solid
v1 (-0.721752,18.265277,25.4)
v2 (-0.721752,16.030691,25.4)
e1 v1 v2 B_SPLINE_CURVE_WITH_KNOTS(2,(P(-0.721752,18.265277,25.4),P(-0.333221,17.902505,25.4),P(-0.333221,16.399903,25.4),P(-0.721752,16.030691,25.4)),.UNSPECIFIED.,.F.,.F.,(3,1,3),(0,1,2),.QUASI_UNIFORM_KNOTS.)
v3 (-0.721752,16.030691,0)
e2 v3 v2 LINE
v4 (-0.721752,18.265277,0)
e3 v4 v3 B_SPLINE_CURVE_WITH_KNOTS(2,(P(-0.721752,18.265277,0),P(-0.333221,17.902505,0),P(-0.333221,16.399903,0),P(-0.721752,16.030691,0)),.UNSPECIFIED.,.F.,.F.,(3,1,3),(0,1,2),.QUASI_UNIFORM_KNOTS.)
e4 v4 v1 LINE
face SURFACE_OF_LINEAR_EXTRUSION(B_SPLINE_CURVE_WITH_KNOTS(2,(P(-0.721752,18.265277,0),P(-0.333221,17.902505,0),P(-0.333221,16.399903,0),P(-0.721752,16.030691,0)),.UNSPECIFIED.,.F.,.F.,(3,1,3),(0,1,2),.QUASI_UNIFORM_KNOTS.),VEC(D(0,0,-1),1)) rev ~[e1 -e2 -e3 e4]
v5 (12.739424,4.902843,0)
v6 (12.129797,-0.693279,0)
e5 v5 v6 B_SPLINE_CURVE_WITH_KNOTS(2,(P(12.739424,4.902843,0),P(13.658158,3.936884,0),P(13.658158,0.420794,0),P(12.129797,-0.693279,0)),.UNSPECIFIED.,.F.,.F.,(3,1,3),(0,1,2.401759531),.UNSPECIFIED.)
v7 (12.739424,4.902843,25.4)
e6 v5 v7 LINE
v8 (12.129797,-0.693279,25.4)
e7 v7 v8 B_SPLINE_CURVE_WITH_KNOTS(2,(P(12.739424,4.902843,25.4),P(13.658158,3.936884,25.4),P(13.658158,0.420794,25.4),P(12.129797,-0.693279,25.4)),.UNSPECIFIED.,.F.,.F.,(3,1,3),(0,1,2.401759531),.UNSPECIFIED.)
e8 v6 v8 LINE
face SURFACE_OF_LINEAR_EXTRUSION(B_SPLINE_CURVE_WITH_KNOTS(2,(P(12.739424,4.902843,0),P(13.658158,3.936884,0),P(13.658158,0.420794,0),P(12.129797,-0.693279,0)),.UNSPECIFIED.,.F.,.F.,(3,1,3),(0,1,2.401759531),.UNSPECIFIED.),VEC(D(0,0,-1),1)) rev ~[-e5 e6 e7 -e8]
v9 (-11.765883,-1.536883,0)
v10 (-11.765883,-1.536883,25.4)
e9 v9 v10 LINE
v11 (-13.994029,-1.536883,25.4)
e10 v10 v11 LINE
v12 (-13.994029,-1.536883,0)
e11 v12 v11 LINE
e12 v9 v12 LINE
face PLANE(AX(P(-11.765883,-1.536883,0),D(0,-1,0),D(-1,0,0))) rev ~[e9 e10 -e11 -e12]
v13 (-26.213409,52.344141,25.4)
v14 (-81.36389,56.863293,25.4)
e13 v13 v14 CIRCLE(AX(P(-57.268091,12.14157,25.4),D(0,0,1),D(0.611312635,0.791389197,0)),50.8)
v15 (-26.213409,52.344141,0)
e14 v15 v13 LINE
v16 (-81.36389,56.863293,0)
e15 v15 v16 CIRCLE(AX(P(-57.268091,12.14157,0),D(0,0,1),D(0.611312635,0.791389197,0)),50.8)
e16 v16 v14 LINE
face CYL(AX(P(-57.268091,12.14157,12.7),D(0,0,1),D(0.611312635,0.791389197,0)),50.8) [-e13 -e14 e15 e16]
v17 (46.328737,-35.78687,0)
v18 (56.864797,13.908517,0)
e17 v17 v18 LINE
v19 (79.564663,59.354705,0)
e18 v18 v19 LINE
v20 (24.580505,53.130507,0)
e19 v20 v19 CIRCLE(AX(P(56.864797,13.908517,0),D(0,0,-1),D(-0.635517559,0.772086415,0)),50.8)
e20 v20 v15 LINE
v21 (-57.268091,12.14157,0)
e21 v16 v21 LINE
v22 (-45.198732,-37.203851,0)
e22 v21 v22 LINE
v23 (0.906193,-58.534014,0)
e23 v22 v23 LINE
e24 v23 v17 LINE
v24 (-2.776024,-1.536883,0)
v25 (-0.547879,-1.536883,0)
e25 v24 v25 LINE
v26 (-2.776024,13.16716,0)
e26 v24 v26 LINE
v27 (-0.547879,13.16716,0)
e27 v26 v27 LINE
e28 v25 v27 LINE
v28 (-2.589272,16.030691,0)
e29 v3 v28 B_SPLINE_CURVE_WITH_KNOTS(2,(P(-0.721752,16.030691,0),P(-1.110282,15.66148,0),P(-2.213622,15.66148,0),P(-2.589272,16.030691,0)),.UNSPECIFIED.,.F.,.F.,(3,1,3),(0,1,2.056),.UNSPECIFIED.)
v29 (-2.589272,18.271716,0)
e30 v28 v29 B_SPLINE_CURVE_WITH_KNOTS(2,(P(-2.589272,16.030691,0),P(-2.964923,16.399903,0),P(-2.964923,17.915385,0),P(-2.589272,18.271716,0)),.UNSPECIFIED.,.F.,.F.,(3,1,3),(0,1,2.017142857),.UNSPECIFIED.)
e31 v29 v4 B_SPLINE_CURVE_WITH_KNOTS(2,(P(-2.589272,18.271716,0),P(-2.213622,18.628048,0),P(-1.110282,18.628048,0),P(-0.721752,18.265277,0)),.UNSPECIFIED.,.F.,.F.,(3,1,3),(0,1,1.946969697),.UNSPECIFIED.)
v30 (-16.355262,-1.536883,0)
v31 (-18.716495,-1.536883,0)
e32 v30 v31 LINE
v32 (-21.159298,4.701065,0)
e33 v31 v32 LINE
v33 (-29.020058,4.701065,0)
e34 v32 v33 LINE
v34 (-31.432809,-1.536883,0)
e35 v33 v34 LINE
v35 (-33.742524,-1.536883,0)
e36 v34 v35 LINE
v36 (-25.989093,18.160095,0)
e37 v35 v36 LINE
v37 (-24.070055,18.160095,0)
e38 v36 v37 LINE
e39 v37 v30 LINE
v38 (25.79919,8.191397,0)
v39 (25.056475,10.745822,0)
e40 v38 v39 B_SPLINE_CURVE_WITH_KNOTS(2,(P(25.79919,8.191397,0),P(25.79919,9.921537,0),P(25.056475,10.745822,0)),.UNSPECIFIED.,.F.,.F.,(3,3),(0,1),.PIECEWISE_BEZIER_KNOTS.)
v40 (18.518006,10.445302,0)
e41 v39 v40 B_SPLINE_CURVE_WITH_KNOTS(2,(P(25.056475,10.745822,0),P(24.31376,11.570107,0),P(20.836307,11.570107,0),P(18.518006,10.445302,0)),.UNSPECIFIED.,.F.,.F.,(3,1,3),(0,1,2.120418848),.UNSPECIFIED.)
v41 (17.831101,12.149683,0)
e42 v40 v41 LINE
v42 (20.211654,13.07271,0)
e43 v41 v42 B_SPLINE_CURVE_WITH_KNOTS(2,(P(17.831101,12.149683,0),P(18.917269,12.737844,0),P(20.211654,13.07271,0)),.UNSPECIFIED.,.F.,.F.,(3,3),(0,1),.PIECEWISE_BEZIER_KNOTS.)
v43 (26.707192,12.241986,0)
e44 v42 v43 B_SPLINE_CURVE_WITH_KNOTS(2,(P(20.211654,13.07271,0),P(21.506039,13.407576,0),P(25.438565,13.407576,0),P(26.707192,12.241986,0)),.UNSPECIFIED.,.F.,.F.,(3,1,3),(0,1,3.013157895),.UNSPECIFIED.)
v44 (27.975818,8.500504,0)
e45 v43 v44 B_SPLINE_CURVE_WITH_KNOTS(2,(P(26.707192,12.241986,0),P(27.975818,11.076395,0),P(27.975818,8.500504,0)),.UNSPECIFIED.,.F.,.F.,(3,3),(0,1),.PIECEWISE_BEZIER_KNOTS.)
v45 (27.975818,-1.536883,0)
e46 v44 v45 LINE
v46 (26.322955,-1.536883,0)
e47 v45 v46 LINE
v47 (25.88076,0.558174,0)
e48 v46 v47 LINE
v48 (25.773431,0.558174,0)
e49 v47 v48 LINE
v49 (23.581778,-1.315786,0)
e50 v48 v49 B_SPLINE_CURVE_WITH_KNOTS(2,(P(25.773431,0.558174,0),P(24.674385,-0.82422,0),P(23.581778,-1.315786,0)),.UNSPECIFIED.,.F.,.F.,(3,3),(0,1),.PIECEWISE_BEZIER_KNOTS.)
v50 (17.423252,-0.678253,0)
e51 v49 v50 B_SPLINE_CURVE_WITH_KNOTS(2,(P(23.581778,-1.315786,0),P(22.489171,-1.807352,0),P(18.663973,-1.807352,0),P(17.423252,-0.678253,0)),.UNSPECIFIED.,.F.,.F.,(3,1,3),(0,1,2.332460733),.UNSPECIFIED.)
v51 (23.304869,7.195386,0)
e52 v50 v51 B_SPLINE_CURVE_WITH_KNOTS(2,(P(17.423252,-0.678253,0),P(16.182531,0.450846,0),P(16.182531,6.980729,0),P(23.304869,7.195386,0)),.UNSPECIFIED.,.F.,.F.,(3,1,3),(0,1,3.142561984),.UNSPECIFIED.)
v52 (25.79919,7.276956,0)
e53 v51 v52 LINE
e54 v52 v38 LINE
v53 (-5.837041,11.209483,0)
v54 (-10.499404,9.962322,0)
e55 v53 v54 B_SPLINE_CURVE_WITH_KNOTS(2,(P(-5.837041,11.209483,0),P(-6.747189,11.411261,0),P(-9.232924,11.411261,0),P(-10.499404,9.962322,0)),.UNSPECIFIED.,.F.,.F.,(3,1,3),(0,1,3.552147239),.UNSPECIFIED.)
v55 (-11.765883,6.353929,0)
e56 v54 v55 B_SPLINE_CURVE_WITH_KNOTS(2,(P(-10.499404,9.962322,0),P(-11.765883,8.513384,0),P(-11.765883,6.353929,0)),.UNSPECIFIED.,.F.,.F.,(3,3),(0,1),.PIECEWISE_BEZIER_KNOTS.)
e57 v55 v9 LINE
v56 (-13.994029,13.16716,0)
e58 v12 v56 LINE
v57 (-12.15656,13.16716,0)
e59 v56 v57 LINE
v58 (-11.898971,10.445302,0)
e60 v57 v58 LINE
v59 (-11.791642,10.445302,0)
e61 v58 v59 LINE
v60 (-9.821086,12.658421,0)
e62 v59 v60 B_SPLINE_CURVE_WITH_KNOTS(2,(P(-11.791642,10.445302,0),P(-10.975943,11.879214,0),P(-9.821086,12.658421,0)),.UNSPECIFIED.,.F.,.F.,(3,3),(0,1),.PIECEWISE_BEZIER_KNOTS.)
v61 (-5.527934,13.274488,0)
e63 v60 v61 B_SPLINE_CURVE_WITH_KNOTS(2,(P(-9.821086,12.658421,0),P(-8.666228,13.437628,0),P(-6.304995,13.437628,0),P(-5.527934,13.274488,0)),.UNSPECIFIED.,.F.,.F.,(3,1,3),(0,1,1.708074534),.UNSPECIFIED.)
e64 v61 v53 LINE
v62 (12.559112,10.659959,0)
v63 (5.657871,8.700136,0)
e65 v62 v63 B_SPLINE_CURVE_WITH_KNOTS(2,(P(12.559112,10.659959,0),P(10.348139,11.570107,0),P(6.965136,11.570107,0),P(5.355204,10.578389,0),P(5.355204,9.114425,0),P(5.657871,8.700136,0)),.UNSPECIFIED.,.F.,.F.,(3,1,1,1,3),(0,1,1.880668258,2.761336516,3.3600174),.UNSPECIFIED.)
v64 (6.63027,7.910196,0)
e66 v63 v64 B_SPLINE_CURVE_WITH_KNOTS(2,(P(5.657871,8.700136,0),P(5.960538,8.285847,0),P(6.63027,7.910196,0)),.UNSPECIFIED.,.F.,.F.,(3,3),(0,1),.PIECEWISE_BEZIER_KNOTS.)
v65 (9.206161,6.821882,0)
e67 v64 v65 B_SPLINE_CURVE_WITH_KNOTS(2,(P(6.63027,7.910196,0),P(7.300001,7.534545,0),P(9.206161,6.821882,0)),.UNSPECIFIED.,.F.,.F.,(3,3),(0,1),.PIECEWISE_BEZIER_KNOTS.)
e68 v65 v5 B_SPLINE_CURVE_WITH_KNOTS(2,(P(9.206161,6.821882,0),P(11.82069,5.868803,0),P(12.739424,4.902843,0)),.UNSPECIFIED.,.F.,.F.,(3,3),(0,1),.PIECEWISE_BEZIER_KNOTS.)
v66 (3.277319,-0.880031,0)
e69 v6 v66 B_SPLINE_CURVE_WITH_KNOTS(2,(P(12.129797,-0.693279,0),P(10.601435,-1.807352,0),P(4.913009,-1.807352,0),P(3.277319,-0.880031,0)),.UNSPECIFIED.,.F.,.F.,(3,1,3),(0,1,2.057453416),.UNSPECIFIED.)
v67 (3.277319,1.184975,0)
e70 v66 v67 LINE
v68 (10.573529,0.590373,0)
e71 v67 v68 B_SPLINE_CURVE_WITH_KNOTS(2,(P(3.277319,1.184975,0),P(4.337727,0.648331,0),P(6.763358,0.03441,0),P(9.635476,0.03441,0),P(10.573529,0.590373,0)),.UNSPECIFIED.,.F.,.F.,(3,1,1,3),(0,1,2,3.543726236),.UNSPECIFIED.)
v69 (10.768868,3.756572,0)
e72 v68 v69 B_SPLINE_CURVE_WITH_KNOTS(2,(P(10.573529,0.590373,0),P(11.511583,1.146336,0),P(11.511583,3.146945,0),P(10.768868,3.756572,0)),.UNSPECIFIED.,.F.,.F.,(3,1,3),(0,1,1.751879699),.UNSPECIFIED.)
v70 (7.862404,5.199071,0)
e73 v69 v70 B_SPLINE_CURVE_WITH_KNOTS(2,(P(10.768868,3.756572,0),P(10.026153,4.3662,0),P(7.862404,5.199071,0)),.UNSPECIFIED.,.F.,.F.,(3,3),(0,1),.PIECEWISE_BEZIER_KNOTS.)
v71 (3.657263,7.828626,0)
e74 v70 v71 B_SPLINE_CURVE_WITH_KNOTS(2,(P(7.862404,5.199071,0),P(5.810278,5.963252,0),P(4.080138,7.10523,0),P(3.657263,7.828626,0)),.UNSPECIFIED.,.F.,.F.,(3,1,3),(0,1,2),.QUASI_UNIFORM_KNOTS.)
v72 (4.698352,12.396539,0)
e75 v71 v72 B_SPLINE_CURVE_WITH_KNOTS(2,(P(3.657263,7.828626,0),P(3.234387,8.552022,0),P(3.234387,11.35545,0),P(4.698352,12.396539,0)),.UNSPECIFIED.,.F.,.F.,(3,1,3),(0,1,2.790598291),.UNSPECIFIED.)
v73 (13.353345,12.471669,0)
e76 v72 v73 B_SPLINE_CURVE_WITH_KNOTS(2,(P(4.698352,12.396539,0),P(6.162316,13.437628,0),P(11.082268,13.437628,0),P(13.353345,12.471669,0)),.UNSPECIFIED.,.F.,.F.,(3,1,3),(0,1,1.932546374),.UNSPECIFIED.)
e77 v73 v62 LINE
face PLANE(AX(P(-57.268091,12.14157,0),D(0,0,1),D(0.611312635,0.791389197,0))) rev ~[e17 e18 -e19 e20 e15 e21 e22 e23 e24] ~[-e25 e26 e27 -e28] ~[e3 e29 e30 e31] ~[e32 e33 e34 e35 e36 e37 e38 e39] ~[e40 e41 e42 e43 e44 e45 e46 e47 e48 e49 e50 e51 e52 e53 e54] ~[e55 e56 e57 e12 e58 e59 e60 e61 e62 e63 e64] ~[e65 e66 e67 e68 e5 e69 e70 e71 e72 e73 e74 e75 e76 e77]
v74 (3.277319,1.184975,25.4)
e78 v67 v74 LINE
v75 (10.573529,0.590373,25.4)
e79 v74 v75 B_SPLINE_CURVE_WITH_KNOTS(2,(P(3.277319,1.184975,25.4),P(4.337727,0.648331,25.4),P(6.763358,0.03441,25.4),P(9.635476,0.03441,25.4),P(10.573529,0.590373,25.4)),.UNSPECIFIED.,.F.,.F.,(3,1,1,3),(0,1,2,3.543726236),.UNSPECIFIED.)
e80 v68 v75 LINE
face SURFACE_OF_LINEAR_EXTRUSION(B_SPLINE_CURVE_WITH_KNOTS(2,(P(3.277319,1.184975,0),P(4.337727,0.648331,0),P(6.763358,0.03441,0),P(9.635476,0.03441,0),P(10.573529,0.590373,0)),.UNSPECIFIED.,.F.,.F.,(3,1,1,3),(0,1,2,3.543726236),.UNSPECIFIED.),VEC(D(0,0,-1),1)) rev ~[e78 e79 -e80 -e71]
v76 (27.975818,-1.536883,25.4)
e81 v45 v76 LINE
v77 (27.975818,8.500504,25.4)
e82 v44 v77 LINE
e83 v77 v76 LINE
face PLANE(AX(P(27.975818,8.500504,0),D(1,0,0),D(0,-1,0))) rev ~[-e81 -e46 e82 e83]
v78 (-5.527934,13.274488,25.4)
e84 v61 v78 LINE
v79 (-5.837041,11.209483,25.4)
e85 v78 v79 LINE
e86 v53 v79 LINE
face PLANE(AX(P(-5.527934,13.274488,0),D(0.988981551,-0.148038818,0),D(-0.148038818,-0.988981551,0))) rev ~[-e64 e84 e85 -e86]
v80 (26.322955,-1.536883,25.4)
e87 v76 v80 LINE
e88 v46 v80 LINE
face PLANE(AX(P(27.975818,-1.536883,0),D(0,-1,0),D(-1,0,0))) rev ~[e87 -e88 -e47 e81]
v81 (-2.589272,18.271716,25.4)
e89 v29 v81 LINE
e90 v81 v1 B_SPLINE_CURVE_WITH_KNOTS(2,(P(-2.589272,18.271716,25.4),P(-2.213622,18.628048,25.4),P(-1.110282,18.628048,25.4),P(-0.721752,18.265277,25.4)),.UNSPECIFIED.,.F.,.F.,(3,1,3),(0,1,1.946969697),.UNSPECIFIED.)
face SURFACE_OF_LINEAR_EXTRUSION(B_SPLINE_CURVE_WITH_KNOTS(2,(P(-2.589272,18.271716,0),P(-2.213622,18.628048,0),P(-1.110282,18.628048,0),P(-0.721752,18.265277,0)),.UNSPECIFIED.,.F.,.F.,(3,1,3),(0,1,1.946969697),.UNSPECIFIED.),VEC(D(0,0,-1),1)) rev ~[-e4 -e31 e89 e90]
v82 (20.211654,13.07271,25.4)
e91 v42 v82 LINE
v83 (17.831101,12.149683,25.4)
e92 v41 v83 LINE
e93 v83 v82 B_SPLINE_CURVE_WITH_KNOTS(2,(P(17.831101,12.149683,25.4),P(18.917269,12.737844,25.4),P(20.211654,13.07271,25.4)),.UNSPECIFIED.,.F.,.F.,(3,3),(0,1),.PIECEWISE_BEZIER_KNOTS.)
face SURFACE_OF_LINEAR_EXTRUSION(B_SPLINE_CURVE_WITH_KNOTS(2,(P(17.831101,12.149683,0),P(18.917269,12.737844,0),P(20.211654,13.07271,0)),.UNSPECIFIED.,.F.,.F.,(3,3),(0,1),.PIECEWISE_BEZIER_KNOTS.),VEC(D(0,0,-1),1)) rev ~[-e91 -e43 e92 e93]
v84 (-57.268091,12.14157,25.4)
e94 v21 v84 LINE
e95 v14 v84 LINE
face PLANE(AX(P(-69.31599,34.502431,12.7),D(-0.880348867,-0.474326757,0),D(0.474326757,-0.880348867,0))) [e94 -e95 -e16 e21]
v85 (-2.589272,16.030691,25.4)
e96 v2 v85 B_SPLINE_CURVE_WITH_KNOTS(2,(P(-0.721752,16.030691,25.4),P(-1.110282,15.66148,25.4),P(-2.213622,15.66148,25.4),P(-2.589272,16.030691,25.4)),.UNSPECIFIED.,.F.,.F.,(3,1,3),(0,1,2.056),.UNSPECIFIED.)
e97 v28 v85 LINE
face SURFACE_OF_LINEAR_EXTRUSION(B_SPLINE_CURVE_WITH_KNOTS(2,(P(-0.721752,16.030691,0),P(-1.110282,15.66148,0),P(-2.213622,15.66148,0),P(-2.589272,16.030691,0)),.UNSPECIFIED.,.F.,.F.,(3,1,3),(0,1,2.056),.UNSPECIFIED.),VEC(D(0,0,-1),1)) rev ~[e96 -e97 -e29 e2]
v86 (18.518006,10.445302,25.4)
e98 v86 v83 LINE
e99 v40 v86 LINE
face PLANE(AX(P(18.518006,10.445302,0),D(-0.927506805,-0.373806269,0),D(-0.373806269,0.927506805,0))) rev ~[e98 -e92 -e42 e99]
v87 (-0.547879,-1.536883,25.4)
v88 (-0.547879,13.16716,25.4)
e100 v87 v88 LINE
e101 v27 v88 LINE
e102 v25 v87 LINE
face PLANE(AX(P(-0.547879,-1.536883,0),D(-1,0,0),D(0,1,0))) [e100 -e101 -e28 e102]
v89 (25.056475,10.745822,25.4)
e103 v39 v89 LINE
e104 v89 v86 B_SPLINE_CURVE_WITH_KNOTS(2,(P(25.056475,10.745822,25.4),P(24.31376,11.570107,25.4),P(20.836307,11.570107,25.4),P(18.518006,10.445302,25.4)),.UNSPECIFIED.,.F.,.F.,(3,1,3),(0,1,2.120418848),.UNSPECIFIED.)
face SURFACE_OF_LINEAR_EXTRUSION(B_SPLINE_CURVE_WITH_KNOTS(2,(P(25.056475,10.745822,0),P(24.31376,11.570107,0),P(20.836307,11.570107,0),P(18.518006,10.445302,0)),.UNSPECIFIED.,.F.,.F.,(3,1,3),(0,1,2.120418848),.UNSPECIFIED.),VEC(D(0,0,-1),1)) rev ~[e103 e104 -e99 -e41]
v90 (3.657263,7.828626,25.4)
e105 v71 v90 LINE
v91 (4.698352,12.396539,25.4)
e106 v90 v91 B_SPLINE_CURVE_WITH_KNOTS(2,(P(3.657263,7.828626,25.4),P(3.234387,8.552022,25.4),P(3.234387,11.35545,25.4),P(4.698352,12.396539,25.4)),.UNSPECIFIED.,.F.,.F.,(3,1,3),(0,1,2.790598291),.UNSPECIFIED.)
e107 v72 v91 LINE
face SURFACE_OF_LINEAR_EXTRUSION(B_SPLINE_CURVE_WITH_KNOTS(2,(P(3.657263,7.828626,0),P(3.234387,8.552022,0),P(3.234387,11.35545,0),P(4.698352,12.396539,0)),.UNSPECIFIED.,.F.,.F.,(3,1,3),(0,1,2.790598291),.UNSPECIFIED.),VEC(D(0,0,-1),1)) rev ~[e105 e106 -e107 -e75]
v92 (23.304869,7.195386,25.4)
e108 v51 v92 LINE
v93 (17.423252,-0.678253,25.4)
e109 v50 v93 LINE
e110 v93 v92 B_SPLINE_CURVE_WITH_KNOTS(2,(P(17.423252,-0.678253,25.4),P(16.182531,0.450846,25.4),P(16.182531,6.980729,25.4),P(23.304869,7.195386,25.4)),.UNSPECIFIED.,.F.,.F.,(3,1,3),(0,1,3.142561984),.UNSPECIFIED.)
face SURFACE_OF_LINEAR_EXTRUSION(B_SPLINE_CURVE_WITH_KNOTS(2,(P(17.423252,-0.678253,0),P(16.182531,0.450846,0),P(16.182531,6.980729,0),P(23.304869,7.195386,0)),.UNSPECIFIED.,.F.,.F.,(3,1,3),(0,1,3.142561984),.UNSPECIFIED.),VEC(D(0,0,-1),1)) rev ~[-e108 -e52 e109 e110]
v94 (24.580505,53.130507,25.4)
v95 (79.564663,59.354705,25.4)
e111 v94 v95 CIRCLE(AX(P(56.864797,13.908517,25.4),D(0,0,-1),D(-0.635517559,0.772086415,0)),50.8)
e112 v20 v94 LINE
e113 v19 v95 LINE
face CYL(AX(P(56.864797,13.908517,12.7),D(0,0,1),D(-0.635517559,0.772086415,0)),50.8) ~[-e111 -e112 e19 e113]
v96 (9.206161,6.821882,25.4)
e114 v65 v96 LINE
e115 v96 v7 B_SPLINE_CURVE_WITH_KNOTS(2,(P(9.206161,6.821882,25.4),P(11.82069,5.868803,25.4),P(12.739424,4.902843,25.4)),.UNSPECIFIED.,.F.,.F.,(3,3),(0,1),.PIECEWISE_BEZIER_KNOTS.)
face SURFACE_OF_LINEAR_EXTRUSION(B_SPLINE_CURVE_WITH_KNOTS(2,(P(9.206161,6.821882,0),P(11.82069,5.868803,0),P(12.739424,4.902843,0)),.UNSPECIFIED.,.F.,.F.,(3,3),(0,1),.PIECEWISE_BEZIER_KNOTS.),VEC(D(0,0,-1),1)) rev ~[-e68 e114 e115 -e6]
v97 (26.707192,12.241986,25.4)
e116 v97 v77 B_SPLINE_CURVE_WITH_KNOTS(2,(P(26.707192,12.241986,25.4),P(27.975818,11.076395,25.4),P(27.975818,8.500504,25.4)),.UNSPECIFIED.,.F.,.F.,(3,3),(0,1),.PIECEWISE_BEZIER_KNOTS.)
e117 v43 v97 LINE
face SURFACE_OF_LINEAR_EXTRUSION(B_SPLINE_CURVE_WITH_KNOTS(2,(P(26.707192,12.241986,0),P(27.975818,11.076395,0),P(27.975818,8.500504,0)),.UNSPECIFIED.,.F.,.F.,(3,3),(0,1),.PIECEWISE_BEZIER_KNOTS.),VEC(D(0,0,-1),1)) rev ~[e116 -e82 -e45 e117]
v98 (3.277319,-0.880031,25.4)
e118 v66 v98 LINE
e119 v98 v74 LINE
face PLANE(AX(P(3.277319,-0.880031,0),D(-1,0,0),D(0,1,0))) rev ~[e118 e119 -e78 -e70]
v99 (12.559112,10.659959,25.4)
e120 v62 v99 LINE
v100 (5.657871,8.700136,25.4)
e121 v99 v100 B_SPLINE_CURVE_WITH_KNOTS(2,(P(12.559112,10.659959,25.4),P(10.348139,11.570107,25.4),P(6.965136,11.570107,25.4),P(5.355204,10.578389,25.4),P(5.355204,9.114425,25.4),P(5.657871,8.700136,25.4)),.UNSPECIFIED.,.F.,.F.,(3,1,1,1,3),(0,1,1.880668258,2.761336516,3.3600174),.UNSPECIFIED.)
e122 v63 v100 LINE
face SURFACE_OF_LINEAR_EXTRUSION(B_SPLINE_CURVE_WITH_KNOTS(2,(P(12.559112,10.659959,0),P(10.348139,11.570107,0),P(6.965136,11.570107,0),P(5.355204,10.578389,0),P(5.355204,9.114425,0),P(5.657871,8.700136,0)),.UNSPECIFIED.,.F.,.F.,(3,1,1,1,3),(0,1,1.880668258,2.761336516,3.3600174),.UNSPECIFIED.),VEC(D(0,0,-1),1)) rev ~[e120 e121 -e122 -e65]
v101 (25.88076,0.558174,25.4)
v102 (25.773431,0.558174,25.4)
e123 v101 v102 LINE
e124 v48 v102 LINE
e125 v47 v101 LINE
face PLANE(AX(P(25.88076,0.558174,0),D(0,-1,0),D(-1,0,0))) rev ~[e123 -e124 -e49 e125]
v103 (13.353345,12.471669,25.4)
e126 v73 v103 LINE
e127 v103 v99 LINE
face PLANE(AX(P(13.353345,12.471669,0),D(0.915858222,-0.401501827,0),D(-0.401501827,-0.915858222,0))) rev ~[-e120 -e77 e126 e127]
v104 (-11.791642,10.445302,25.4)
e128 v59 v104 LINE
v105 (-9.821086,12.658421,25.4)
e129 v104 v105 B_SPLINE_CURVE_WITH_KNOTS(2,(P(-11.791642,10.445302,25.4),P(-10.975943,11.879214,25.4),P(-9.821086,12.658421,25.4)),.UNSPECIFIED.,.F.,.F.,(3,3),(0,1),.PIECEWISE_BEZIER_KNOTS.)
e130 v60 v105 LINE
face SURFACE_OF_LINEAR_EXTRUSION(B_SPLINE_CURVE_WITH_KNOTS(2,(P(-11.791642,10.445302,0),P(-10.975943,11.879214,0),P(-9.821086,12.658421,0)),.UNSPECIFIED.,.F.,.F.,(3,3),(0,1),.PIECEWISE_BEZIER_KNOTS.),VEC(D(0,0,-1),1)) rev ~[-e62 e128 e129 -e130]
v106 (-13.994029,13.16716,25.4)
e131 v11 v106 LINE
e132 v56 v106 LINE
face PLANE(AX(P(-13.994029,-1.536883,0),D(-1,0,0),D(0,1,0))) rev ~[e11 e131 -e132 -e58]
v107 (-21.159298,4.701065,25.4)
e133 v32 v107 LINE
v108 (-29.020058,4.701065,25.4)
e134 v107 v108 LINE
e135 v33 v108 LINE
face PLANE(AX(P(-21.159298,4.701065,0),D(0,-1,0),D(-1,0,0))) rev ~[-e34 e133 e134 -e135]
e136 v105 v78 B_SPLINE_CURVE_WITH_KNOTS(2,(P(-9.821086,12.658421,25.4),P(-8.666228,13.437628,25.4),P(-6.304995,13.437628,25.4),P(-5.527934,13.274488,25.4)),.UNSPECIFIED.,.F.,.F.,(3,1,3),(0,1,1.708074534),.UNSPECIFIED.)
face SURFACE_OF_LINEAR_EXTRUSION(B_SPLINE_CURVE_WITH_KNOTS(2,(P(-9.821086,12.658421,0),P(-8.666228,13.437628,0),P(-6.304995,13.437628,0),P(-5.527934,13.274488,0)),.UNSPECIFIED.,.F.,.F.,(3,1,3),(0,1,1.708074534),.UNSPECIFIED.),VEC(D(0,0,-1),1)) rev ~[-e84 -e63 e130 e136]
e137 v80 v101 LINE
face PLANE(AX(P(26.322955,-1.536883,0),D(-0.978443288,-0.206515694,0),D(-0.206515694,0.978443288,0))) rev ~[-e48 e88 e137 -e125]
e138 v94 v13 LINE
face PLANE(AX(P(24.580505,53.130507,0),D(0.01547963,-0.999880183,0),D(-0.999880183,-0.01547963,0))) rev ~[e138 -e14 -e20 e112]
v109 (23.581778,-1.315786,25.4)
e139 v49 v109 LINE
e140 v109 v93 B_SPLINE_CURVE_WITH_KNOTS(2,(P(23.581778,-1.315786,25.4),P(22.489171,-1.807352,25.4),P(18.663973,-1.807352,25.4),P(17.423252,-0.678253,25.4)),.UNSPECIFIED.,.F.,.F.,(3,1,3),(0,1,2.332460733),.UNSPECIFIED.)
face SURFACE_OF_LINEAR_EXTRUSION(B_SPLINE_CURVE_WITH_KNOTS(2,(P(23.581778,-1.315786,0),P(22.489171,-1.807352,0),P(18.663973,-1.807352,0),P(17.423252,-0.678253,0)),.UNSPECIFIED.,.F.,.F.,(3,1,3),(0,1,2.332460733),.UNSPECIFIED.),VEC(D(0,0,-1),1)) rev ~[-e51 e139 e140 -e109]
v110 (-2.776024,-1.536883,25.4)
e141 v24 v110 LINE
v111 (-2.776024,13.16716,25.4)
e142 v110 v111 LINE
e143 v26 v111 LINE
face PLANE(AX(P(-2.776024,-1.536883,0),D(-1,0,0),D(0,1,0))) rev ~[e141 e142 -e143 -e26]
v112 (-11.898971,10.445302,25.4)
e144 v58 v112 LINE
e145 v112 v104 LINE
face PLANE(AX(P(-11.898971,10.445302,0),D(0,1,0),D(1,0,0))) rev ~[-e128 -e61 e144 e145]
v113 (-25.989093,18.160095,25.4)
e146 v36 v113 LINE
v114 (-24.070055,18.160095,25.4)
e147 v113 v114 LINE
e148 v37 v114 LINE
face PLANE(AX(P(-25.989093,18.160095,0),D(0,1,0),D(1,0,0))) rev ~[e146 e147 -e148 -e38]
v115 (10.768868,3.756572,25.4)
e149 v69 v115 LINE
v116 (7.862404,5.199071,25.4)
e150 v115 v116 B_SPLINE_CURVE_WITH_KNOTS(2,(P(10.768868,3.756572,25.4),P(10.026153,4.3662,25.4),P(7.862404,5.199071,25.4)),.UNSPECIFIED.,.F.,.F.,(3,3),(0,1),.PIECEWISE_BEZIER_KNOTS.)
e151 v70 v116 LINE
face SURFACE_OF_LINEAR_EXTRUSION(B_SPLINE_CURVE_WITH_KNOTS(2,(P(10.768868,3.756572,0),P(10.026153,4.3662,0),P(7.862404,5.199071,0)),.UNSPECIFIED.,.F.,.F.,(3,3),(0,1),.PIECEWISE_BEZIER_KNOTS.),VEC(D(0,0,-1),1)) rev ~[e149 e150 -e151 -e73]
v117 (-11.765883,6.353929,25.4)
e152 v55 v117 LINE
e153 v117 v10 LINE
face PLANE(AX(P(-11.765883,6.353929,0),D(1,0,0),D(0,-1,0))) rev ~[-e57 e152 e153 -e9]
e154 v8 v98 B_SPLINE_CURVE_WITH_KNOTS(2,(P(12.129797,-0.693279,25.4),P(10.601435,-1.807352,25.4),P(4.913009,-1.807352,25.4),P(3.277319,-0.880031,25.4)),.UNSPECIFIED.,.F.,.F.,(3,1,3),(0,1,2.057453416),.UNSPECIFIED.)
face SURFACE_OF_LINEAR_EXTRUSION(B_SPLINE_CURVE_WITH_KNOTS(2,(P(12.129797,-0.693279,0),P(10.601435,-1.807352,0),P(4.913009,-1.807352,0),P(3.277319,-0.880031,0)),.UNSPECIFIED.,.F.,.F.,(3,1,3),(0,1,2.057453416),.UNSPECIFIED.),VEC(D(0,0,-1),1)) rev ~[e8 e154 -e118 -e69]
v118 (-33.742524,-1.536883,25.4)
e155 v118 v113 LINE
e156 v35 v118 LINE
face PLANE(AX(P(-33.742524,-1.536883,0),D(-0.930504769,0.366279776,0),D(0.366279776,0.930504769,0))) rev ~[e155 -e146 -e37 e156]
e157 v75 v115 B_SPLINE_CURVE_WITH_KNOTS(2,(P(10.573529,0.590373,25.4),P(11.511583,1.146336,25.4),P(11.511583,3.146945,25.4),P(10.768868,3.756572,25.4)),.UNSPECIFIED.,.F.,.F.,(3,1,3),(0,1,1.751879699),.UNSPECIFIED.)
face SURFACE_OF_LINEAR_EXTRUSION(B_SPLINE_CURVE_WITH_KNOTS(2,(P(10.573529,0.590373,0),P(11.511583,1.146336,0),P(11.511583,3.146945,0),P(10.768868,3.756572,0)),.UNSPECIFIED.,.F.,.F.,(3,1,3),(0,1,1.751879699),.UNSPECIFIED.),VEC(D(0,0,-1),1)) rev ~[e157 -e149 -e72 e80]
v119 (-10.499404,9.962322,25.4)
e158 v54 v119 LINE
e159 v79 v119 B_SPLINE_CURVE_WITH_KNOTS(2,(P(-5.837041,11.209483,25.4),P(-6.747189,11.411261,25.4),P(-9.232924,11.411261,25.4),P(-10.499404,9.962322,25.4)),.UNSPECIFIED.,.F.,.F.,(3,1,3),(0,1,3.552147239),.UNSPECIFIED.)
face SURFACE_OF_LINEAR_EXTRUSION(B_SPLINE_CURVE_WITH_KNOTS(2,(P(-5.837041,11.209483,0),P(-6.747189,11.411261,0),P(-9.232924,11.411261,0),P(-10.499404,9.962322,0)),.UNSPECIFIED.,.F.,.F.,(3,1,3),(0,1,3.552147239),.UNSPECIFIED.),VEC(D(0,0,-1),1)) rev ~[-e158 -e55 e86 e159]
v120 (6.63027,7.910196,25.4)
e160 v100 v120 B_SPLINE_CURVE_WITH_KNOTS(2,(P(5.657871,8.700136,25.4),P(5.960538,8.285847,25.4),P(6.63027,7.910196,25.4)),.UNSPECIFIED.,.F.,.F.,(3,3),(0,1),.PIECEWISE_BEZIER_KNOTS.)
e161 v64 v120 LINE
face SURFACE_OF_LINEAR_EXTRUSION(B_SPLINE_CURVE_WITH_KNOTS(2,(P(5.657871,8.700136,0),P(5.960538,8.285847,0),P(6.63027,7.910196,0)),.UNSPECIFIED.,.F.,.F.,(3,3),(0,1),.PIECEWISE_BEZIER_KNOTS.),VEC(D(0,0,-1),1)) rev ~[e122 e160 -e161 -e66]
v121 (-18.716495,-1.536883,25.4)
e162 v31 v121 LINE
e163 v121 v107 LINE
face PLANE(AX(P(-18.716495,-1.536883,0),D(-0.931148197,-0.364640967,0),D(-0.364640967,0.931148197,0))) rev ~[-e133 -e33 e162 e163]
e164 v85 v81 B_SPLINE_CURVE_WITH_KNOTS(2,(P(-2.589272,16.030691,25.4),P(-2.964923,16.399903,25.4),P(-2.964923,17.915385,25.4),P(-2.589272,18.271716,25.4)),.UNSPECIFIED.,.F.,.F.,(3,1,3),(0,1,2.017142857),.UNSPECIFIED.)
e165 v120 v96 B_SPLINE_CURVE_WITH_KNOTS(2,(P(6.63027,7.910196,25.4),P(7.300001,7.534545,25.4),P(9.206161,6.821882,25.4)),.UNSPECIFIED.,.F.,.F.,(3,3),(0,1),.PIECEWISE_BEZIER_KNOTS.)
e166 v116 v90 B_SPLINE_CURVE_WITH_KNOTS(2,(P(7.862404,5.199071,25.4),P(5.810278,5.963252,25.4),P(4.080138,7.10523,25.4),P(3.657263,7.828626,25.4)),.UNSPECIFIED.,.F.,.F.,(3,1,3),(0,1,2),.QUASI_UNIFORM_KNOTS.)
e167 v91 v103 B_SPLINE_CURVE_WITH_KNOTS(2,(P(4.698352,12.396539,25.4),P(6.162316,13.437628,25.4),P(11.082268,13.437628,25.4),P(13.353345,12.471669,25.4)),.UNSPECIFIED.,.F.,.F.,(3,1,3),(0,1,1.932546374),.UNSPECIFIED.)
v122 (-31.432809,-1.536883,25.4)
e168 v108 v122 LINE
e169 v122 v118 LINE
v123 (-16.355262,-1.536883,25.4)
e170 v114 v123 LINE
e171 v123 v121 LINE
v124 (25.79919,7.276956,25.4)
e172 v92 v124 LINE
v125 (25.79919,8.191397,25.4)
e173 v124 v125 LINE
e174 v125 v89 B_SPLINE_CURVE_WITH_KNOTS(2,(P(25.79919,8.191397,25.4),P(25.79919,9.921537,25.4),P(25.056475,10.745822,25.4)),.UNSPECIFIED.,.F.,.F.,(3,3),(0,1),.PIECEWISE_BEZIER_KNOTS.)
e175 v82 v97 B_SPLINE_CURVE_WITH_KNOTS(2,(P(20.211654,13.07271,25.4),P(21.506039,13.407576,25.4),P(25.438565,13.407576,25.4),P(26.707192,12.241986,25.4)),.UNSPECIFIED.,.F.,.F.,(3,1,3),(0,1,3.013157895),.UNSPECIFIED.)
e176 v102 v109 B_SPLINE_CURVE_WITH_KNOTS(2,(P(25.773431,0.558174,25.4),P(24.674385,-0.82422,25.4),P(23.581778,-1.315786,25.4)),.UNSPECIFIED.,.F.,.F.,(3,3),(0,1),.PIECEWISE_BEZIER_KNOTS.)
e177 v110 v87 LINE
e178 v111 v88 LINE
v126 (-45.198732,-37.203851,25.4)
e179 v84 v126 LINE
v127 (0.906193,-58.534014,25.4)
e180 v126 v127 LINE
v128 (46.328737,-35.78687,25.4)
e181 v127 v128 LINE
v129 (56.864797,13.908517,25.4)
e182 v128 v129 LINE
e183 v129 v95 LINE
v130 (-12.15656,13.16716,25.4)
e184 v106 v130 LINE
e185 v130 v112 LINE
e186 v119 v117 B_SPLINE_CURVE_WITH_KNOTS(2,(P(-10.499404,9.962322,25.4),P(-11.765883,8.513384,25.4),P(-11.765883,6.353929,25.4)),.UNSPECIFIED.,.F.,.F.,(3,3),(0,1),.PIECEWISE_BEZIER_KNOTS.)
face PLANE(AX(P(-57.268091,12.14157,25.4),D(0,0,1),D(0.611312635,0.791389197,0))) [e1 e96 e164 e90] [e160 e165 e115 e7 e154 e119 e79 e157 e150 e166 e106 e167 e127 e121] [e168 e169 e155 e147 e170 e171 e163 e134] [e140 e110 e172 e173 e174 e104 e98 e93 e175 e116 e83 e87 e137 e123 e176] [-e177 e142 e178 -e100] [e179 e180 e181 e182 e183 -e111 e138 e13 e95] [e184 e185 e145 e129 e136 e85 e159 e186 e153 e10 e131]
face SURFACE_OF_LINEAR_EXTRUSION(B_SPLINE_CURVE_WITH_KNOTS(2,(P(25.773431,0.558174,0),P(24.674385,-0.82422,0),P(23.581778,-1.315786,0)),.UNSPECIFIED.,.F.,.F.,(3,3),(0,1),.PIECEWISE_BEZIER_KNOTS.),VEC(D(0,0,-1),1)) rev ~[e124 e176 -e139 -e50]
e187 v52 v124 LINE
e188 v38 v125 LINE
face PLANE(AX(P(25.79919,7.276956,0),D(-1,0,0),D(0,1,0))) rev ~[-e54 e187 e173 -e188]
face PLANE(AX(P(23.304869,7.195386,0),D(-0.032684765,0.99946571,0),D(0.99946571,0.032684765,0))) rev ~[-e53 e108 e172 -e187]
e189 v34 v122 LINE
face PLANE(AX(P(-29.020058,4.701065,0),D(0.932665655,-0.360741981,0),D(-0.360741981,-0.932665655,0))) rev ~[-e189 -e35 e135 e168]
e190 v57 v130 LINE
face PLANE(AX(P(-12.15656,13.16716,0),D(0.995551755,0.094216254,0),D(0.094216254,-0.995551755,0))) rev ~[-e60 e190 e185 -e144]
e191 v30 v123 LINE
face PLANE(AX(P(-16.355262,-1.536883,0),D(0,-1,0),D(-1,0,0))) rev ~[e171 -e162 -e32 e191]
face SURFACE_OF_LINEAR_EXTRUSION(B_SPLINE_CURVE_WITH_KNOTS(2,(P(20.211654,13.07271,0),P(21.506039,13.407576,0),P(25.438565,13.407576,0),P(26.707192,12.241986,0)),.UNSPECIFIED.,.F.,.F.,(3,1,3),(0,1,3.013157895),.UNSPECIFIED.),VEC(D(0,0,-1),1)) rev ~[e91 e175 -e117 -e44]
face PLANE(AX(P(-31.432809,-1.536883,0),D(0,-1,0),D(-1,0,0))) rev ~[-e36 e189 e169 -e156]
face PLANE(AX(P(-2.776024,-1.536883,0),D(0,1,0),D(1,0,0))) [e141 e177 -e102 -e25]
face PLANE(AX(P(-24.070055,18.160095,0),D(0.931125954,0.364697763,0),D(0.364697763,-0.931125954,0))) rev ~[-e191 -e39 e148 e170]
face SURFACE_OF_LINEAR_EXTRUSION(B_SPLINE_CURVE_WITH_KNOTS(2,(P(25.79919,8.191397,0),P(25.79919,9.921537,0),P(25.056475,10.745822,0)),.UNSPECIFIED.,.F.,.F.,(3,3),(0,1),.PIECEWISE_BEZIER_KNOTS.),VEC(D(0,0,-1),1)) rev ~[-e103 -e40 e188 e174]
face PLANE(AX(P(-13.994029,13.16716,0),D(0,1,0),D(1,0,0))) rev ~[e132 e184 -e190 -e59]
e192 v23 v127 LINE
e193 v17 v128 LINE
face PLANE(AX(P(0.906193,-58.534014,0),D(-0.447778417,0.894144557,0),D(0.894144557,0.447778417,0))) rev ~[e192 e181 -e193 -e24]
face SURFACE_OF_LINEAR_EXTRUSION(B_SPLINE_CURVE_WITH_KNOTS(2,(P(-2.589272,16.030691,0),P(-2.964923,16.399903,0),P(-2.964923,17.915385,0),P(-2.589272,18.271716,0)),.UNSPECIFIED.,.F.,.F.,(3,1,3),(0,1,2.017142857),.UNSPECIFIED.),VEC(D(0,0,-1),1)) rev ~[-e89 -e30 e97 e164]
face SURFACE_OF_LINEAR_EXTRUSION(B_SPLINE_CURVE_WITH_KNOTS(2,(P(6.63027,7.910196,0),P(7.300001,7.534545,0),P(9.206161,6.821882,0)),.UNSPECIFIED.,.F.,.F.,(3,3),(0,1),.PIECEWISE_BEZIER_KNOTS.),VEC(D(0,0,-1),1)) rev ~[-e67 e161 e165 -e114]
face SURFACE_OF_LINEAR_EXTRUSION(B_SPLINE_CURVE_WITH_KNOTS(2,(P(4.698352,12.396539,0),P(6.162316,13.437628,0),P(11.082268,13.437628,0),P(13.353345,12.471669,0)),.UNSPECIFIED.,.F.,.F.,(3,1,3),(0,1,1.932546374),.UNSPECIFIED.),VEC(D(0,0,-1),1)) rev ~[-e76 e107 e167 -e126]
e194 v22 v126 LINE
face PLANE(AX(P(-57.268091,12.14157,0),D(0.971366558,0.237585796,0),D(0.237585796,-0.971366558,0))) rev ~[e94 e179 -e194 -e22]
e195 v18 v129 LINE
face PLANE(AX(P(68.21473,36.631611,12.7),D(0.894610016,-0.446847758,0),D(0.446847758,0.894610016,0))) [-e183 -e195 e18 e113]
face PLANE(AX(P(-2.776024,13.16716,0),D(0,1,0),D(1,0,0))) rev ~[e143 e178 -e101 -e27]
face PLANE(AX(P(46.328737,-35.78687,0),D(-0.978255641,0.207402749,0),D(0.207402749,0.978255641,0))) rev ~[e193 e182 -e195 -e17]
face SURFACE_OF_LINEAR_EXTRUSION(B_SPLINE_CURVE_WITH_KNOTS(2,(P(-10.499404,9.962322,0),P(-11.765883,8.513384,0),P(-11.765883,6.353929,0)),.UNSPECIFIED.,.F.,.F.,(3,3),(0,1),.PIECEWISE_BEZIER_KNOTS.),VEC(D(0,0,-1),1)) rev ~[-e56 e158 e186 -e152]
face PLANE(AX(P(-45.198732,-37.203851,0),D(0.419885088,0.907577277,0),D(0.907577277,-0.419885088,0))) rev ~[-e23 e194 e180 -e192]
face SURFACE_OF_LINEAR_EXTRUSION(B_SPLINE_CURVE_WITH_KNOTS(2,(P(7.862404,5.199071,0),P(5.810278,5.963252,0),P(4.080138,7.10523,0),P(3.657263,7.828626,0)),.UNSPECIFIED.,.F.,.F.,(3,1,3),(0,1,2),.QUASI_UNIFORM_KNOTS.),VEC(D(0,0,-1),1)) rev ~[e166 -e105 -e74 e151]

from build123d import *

# Parameters (mm, degrees)
F0_W       = 2.2281454939
F0_H       = 14.7040429991
F1_DEPTH   = 25.4
F1_FACE_W  = 50.8
F1_FACE_H  = 25.4
F2_ANGLE   = 66
F1_FACE1_W = 50.8
F1_FACE1_H = 25.4
F3_ANGLE   = 66


with BuildPart() as f1:
    # F0 (on Top) → F1 (new body)
    with BuildSketch(Plane.XY):
        Polygon((-26.2134087423, 52.3441413045), (-57.2680906174, 12.1415700729), (-45.1987322015, -37.2038510665), (0.9061934483, -58.5340135326), (46.3287369485, -35.7868699324), (56.8647965925, 13.9085166461), (24.5805045719, 53.130506508), align=None)
        Polygon((-16.3552618695, -1.5368833827), (-18.7164950518, -1.5368833827), (-21.1592981077, 4.7010653699), (-29.0200580293, 4.7010653699), (-31.4328090265, -1.5368833827), (-33.742524394, -1.5368833827), (-25.9890932534, 18.1600945092), (-24.0700546489, 18.1600945092), align=None, mode=Mode.SUBTRACT)
        with BuildLine():
            add(Edge.make_bspline(
                [(-9.8210856812, 12.6584211944), (-8.6662279975, 13.4376281445), (-7.283833298, 13.4376281445)],
                knots=[0, 0, 0, 1, 1, 1], degree=2))
            add(Edge.make_bspline(
                [(-7.283833298, 13.4376281445), (-6.3049948152, 13.4376281445), (-5.5279344406, 13.2744883974)],
                knots=[0, 0, 0, 1, 1, 1], degree=2))
            Line((-5.5279344406, 13.2744883974), (-5.8370413299, 11.2094826507))
            add(Edge.make_bspline(
                [(-5.8370413299, 11.2094826507), (-6.747189393, 11.411260759), (-7.4469730452, 11.411260759)],
                knots=[0, 0, 0, 1, 1, 1], degree=2))
            add(Edge.make_bspline(
                [(-7.4469730452, 11.411260759), (-9.2329239613, 11.411260759), (-10.4994035773, 9.9623222153)],
                knots=[0, 0, 0, 1, 1, 1], degree=2))
            add(Edge.make_bspline(
                [(-10.4994035773, 9.9623222153), (-11.7658831932, 8.5133836715), (-11.7658831932, 6.3539285975)],
                knots=[0, 0, 0, 1, 1, 1], degree=2))
            Line((-11.7658831932, 6.3539285975), (-11.7658831932, -1.5368833827))
            Line((-11.7658831932, -1.5368833827), (-13.9940286871, -1.5368833827))
            Line((-13.9940286871, -1.5368833827), (-13.9940286871, 13.1671596164))
            Line((-13.9940286871, 13.1671596164), (-12.1565599561, 13.1671596164))
            Line((-12.1565599561, 13.1671596164), (-11.8989708817, 10.4453017298))
            Line((-11.8989708817, 10.4453017298), (-11.7916421007, 10.4453017298))
            add(Edge.make_bspline(
                [(-11.7916421007, 10.4453017298), (-10.975943365, 11.8792142442), (-9.8210856812, 12.6584211944)],
                knots=[0, 0, 0, 1, 1, 1], degree=2))
        make_face(mode=Mode.SUBTRACT)
        with Locations((-1.6619517484, 5.8151381168)):
            Rectangle(F0_W, F0_H, mode=Mode.SUBTRACT)
        with BuildLine():
            add(Edge.make_bspline(
                [(-2.5892724164, 16.0306914939), (-2.96492315, 16.3999025006), (-2.96492315, 17.1512039677)],
                knots=[0, 0, 0, 1, 1, 1], degree=2))
            add(Edge.make_bspline(
                [(-2.96492315, 17.1512039677), (-2.96492315, 17.9153848885), (-2.5892724164, 18.2717164415)],
                knots=[0, 0, 0, 1, 1, 1], degree=2))
            add(Edge.make_bspline(
                [(-2.5892724164, 18.2717164415), (-2.2136216829, 18.6280479944), (-1.6469257191, 18.6280479944)],
                knots=[0, 0, 0, 1, 1, 1], degree=2))
            add(Edge.make_bspline(
                [(-1.6469257191, 18.6280479944), (-1.110281814, 18.6280479944), (-0.7217516267, 18.2652767146)],
                knots=[0, 0, 0, 1, 1, 1], degree=2))
            add(Edge.make_bspline(
                [(-0.7217516267, 18.2652767146), (-0.3332214395, 17.9025054348), (-0.3332214395, 17.1512039677)],
                knots=[0, 0, 0, 1, 1, 1], degree=2))
            add(Edge.make_bspline(
                [(-0.3332214395, 17.1512039677), (-0.3332214395, 16.3999025006), (-0.7217516267, 16.0306914939)],
                knots=[0, 0, 0, 1, 1, 1], degree=2))
            add(Edge.make_bspline(
                [(-0.7217516267, 16.0306914939), (-1.110281814, 15.6614804872), (-1.6469257191, 15.6614804872)],
                knots=[0, 0, 0, 1, 1, 1], degree=2))
            add(Edge.make_bspline(
                [(-1.6469257191, 15.6614804872), (-2.2136216829, 15.6614804872), (-2.5892724164, 16.0306914939)],
                knots=[0, 0, 0, 1, 1, 1], degree=2))
        make_face(mode=Mode.SUBTRACT)
        with BuildLine():
            add(Edge.make_bspline(
                [(12.7394240882, 4.9028434782), (13.6581584537, 3.936884449), (13.6581584537, 2.472919876)],
                knots=[0, 0, 0, 1, 1, 1], degree=2))
            add(Edge.make_bspline(
                [(13.6581584537, 2.472919876), (13.6581584537, 0.420793583), (12.129796612, -0.693279164)],
                knots=[0, 0, 0, 1, 1, 1], degree=2))
            add(Edge.make_bspline(
                [(12.129796612, -0.693279164), (10.6014347704, -1.8073519109), (7.8366453714, -1.8073519109)],
                knots=[0, 0, 0, 1, 1, 1], degree=2))
            add(Edge.make_bspline(
                [(7.8366453714, -1.8073519109), (4.9130093766, -1.8073519109), (3.2773187539, -0.8800312429)],
                knots=[0, 0, 0, 1, 1, 1], degree=2))
            Line((3.2773187539, -0.8800312429), (3.2773187539, 1.1849745038))
            add(Edge.make_bspline(
                [(3.2773187539, 1.1849745038), (4.3377271103, 0.6483305987), (5.5505423358, 0.341370285)],
                knots=[0, 0, 0, 1, 1, 1], degree=2))
            add(Edge.make_bspline(
                [(5.5505423358, 0.341370285), (6.7633575613, 0.0344099713), (7.8924563376, 0.0344099713)],
                knots=[0, 0, 0, 1, 1, 1], degree=2))
            add(Edge.make_bspline(
                [(7.8924563376, 0.0344099713), (9.6354757412, 0.0344099713), (10.5735292873, 0.590373057)],
                knots=[0, 0, 0, 1, 1, 1], degree=2))
            add(Edge.make_bspline(
                [(10.5735292873, 0.590373057), (11.5115828334, 1.1463361426), (11.5115828334, 2.2883143727)],
                knots=[0, 0, 0, 1, 1, 1], degree=2))
            add(Edge.make_bspline(
                [(11.5115828334, 2.2883143727), (11.5115828334, 3.1469446208), (10.7688676688, 3.7565720969)],
                knots=[0, 0, 0, 1, 1, 1], degree=2))
            add(Edge.make_bspline(
                [(10.7688676688, 3.7565720969), (10.0261525041, 4.3661995731), (7.8624042789, 5.1990709138)],
                knots=[0, 0, 0, 1, 1, 1], degree=2))
            add(Edge.make_bspline(
                [(7.8624042789, 5.1990709138), (5.8102779859, 5.9632518346), (4.9452080109, 6.5342409496)],
                knots=[0, 0, 0, 1, 1, 1], degree=2))
            add(Edge.make_bspline(
                [(4.9452080109, 6.5342409496), (4.0801380359, 7.1052300646), (3.6572626387, 7.8286260487)],
                knots=[0, 0, 0, 1, 1, 1], degree=2))
            add(Edge.make_bspline(
                [(3.6572626387, 7.8286260487), (3.2343872415, 8.5520220327), (3.2343872415, 9.556619423)],
                knots=[0, 0, 0, 1, 1, 1], degree=2))
            add(Edge.make_bspline(
                [(3.2343872415, 9.556619423), (3.2343872415, 11.3554497928), (4.6983518145, 12.3965389687)],
                knots=[0, 0, 0, 1, 1, 1], degree=2))
            add(Edge.make_bspline(
                [(4.6983518145, 12.3965389687), (6.1623163876, 13.4376281445), (8.7081550733, 13.4376281445)],
                knots=[0, 0, 0, 1, 1, 1], degree=2))
            add(Edge.make_bspline(
                [(8.7081550733, 13.4376281445), (11.0822677093, 13.4376281445), (13.3533447156, 12.4716691154)],
                knots=[0, 0, 0, 1, 1, 1], degree=2))
            Line((13.3533447156, 12.4716691154), (12.5591117361, 10.6599592919))
            add(Edge.make_bspline(
                [(12.5591117361, 10.6599592919), (10.3481388472, 11.5701073549), (8.5493084774, 11.5701073549)],
                knots=[0, 0, 0, 1, 1, 1], degree=2))
            add(Edge.make_bspline(
                [(8.5493084774, 11.5701073549), (6.9651356696, 11.5701073549), (6.160169812, 11.0742483866)],
                knots=[0, 0, 0, 1, 1, 1], degree=2))
            add(Edge.make_bspline(
                [(6.160169812, 11.0742483866), (5.3552039544, 10.5783894183), (5.3552039544, 9.7068797164)],
                knots=[0, 0, 0, 1, 1, 1], degree=2))
            add(Edge.make_bspline(
                [(5.3552039544, 9.7068797164), (5.3552039544, 9.1144248452), (5.6578711168, 8.7001357505)],
                knots=[0, 0, 0, 1, 1, 1], degree=2))
            add(Edge.make_bspline(
                [(5.6578711168, 8.7001357505), (5.9605382793, 8.2858466558), (6.6302698728, 7.9101959222)],
                knots=[0, 0, 0, 1, 1, 1], degree=2))
            add(Edge.make_bspline(
                [(6.6302698728, 7.9101959222), (7.3000014664, 7.5345451887), (9.2061606172, 6.8218820827)],
                knots=[0, 0, 0, 1, 1, 1], degree=2))
            add(Edge.make_bspline(
                [(9.2061606172, 6.8218820827), (11.8206897227, 5.8688025073), (12.7394240882, 4.9028434782)],
                knots=[0, 0, 0, 1, 1, 1], degree=2))
        make_face(mode=Mode.SUBTRACT)
        with BuildLine():
            Line((27.9758178412, -1.5368833827), (26.3229546135, -1.5368833827))
            Line((26.3229546135, -1.5368833827), (25.8807600358, 0.5581744227))
            Line((25.8807600358, 0.5581744227), (25.7734312547, 0.5581744227))
            add(Edge.make_bspline(
                [(25.7734312547, 0.5581744227), (24.6743845371, -0.8242202768), (23.5817775464, -1.3157860938)],
                knots=[0, 0, 0, 1, 1, 1], degree=2))
            add(Edge.make_bspline(
                [(23.5817775464, -1.3157860938), (22.4891705557, -1.8073519109), (20.8491867817, -1.8073519109)],
                knots=[0, 0, 0, 1, 1, 1], degree=2))
            add(Edge.make_bspline(
                [(20.8491867817, -1.8073519109), (18.6639728003, -1.8073519109), (17.4232520917, -0.6782531346)],
                knots=[0, 0, 0, 1, 1, 1], degree=2))
            add(Edge.make_bspline(
                [(17.4232520917, -0.6782531346), (16.1825313832, 0.4508456417), (16.1825313832, 2.5287308421)],
                knots=[0, 0, 0, 1, 1, 1], degree=2))
            add(Edge.make_bspline(
                [(16.1825313832, 2.5287308421), (16.1825313832, 6.9807286786), (23.3048692914, 7.1953862407)],
                knots=[0, 0, 0, 1, 1, 1], degree=2))
            Line((23.3048692914, 7.1953862407), (25.7991901622, 7.2769561142))
            Line((25.7991901622, 7.2769561142), (25.7991901622, 8.1913973285))
            add(Edge.make_bspline(
                [(25.7991901622, 8.1913973285), (25.7991901622, 9.9215372785), (25.0564749976, 10.7458223167)],
                knots=[0, 0, 0, 1, 1, 1], degree=2))
            add(Edge.make_bspline(
                [(25.0564749976, 10.7458223167), (24.3137598329, 11.5701073549), (22.673776059, 11.5701073549)],
                knots=[0, 0, 0, 1, 1, 1], degree=2))
            add(Edge.make_bspline(
                [(22.673776059, 11.5701073549), (20.836307328, 11.5701073549), (18.5180056581, 10.4453017298)],
                knots=[0, 0, 0, 1, 1, 1], degree=2))
            Line((18.5180056581, 10.4453017298), (17.8311014596, 12.1496827724))
            add(Edge.make_bspline(
                [(17.8311014596, 12.1496827724), (18.9172687235, 12.7378444923), (20.2116538225, 13.0727102891)],
                knots=[0, 0, 0, 1, 1, 1], degree=2))
            add(Edge.make_bspline(
                [(20.2116538225, 13.0727102891), (21.5060389216, 13.4075760859), (22.8111568987, 13.4075760859)],
                knots=[0, 0, 0, 1, 1, 1], degree=2))
            add(Edge.make_bspline(
                [(22.8111568987, 13.4075760859), (25.438565458, 13.4075760859), (26.7071916496, 12.241985524)],
                knots=[0, 0, 0, 1, 1, 1], degree=2))
            add(Edge.make_bspline(
                [(26.7071916496, 12.241985524), (27.9758178412, 11.0763949622), (27.9758178412, 8.5005042178)],
                knots=[0, 0, 0, 1, 1, 1], degree=2))
            Line((27.9758178412, 8.5005042178), (27.9758178412, -1.5368833827))
        make_face(mode=Mode.SUBTRACT)
    extrude(amount=F1_DEPTH)

    # F1_face (on face) → F2 (revolve)
    with BuildSketch(Plane(origin=(40.7226505822, 33.519511577, 12.7), x_dir=(-0.6355175595, 0.7720864146, 0), z_dir=(0.7720864146, 0.6355175595, 0))):
        Rectangle(F1_FACE_W, F1_FACE_H)
    revolve(axis=Axis((56.8647965925, 13.9085166461, 12.7), (0, 0, -1)), revolution_arc=F2_ANGLE)

    # F1_face1 (on face) → F3 (revolve)
    with BuildSketch(Plane(origin=(-41.7407496799, 32.2428556887, 12.7), x_dir=(-0.6113126353, -0.7913891975, 0), z_dir=(-0.7913891975, 0.6113126353, 0))):
        Rectangle(F1_FACE1_W, F1_FACE1_H)
    revolve(axis=Axis((-57.2680906174, 12.1415700729, 12.7), (0, 0, 1)), revolution_arc=F3_ANGLE)


solid = f1.part
